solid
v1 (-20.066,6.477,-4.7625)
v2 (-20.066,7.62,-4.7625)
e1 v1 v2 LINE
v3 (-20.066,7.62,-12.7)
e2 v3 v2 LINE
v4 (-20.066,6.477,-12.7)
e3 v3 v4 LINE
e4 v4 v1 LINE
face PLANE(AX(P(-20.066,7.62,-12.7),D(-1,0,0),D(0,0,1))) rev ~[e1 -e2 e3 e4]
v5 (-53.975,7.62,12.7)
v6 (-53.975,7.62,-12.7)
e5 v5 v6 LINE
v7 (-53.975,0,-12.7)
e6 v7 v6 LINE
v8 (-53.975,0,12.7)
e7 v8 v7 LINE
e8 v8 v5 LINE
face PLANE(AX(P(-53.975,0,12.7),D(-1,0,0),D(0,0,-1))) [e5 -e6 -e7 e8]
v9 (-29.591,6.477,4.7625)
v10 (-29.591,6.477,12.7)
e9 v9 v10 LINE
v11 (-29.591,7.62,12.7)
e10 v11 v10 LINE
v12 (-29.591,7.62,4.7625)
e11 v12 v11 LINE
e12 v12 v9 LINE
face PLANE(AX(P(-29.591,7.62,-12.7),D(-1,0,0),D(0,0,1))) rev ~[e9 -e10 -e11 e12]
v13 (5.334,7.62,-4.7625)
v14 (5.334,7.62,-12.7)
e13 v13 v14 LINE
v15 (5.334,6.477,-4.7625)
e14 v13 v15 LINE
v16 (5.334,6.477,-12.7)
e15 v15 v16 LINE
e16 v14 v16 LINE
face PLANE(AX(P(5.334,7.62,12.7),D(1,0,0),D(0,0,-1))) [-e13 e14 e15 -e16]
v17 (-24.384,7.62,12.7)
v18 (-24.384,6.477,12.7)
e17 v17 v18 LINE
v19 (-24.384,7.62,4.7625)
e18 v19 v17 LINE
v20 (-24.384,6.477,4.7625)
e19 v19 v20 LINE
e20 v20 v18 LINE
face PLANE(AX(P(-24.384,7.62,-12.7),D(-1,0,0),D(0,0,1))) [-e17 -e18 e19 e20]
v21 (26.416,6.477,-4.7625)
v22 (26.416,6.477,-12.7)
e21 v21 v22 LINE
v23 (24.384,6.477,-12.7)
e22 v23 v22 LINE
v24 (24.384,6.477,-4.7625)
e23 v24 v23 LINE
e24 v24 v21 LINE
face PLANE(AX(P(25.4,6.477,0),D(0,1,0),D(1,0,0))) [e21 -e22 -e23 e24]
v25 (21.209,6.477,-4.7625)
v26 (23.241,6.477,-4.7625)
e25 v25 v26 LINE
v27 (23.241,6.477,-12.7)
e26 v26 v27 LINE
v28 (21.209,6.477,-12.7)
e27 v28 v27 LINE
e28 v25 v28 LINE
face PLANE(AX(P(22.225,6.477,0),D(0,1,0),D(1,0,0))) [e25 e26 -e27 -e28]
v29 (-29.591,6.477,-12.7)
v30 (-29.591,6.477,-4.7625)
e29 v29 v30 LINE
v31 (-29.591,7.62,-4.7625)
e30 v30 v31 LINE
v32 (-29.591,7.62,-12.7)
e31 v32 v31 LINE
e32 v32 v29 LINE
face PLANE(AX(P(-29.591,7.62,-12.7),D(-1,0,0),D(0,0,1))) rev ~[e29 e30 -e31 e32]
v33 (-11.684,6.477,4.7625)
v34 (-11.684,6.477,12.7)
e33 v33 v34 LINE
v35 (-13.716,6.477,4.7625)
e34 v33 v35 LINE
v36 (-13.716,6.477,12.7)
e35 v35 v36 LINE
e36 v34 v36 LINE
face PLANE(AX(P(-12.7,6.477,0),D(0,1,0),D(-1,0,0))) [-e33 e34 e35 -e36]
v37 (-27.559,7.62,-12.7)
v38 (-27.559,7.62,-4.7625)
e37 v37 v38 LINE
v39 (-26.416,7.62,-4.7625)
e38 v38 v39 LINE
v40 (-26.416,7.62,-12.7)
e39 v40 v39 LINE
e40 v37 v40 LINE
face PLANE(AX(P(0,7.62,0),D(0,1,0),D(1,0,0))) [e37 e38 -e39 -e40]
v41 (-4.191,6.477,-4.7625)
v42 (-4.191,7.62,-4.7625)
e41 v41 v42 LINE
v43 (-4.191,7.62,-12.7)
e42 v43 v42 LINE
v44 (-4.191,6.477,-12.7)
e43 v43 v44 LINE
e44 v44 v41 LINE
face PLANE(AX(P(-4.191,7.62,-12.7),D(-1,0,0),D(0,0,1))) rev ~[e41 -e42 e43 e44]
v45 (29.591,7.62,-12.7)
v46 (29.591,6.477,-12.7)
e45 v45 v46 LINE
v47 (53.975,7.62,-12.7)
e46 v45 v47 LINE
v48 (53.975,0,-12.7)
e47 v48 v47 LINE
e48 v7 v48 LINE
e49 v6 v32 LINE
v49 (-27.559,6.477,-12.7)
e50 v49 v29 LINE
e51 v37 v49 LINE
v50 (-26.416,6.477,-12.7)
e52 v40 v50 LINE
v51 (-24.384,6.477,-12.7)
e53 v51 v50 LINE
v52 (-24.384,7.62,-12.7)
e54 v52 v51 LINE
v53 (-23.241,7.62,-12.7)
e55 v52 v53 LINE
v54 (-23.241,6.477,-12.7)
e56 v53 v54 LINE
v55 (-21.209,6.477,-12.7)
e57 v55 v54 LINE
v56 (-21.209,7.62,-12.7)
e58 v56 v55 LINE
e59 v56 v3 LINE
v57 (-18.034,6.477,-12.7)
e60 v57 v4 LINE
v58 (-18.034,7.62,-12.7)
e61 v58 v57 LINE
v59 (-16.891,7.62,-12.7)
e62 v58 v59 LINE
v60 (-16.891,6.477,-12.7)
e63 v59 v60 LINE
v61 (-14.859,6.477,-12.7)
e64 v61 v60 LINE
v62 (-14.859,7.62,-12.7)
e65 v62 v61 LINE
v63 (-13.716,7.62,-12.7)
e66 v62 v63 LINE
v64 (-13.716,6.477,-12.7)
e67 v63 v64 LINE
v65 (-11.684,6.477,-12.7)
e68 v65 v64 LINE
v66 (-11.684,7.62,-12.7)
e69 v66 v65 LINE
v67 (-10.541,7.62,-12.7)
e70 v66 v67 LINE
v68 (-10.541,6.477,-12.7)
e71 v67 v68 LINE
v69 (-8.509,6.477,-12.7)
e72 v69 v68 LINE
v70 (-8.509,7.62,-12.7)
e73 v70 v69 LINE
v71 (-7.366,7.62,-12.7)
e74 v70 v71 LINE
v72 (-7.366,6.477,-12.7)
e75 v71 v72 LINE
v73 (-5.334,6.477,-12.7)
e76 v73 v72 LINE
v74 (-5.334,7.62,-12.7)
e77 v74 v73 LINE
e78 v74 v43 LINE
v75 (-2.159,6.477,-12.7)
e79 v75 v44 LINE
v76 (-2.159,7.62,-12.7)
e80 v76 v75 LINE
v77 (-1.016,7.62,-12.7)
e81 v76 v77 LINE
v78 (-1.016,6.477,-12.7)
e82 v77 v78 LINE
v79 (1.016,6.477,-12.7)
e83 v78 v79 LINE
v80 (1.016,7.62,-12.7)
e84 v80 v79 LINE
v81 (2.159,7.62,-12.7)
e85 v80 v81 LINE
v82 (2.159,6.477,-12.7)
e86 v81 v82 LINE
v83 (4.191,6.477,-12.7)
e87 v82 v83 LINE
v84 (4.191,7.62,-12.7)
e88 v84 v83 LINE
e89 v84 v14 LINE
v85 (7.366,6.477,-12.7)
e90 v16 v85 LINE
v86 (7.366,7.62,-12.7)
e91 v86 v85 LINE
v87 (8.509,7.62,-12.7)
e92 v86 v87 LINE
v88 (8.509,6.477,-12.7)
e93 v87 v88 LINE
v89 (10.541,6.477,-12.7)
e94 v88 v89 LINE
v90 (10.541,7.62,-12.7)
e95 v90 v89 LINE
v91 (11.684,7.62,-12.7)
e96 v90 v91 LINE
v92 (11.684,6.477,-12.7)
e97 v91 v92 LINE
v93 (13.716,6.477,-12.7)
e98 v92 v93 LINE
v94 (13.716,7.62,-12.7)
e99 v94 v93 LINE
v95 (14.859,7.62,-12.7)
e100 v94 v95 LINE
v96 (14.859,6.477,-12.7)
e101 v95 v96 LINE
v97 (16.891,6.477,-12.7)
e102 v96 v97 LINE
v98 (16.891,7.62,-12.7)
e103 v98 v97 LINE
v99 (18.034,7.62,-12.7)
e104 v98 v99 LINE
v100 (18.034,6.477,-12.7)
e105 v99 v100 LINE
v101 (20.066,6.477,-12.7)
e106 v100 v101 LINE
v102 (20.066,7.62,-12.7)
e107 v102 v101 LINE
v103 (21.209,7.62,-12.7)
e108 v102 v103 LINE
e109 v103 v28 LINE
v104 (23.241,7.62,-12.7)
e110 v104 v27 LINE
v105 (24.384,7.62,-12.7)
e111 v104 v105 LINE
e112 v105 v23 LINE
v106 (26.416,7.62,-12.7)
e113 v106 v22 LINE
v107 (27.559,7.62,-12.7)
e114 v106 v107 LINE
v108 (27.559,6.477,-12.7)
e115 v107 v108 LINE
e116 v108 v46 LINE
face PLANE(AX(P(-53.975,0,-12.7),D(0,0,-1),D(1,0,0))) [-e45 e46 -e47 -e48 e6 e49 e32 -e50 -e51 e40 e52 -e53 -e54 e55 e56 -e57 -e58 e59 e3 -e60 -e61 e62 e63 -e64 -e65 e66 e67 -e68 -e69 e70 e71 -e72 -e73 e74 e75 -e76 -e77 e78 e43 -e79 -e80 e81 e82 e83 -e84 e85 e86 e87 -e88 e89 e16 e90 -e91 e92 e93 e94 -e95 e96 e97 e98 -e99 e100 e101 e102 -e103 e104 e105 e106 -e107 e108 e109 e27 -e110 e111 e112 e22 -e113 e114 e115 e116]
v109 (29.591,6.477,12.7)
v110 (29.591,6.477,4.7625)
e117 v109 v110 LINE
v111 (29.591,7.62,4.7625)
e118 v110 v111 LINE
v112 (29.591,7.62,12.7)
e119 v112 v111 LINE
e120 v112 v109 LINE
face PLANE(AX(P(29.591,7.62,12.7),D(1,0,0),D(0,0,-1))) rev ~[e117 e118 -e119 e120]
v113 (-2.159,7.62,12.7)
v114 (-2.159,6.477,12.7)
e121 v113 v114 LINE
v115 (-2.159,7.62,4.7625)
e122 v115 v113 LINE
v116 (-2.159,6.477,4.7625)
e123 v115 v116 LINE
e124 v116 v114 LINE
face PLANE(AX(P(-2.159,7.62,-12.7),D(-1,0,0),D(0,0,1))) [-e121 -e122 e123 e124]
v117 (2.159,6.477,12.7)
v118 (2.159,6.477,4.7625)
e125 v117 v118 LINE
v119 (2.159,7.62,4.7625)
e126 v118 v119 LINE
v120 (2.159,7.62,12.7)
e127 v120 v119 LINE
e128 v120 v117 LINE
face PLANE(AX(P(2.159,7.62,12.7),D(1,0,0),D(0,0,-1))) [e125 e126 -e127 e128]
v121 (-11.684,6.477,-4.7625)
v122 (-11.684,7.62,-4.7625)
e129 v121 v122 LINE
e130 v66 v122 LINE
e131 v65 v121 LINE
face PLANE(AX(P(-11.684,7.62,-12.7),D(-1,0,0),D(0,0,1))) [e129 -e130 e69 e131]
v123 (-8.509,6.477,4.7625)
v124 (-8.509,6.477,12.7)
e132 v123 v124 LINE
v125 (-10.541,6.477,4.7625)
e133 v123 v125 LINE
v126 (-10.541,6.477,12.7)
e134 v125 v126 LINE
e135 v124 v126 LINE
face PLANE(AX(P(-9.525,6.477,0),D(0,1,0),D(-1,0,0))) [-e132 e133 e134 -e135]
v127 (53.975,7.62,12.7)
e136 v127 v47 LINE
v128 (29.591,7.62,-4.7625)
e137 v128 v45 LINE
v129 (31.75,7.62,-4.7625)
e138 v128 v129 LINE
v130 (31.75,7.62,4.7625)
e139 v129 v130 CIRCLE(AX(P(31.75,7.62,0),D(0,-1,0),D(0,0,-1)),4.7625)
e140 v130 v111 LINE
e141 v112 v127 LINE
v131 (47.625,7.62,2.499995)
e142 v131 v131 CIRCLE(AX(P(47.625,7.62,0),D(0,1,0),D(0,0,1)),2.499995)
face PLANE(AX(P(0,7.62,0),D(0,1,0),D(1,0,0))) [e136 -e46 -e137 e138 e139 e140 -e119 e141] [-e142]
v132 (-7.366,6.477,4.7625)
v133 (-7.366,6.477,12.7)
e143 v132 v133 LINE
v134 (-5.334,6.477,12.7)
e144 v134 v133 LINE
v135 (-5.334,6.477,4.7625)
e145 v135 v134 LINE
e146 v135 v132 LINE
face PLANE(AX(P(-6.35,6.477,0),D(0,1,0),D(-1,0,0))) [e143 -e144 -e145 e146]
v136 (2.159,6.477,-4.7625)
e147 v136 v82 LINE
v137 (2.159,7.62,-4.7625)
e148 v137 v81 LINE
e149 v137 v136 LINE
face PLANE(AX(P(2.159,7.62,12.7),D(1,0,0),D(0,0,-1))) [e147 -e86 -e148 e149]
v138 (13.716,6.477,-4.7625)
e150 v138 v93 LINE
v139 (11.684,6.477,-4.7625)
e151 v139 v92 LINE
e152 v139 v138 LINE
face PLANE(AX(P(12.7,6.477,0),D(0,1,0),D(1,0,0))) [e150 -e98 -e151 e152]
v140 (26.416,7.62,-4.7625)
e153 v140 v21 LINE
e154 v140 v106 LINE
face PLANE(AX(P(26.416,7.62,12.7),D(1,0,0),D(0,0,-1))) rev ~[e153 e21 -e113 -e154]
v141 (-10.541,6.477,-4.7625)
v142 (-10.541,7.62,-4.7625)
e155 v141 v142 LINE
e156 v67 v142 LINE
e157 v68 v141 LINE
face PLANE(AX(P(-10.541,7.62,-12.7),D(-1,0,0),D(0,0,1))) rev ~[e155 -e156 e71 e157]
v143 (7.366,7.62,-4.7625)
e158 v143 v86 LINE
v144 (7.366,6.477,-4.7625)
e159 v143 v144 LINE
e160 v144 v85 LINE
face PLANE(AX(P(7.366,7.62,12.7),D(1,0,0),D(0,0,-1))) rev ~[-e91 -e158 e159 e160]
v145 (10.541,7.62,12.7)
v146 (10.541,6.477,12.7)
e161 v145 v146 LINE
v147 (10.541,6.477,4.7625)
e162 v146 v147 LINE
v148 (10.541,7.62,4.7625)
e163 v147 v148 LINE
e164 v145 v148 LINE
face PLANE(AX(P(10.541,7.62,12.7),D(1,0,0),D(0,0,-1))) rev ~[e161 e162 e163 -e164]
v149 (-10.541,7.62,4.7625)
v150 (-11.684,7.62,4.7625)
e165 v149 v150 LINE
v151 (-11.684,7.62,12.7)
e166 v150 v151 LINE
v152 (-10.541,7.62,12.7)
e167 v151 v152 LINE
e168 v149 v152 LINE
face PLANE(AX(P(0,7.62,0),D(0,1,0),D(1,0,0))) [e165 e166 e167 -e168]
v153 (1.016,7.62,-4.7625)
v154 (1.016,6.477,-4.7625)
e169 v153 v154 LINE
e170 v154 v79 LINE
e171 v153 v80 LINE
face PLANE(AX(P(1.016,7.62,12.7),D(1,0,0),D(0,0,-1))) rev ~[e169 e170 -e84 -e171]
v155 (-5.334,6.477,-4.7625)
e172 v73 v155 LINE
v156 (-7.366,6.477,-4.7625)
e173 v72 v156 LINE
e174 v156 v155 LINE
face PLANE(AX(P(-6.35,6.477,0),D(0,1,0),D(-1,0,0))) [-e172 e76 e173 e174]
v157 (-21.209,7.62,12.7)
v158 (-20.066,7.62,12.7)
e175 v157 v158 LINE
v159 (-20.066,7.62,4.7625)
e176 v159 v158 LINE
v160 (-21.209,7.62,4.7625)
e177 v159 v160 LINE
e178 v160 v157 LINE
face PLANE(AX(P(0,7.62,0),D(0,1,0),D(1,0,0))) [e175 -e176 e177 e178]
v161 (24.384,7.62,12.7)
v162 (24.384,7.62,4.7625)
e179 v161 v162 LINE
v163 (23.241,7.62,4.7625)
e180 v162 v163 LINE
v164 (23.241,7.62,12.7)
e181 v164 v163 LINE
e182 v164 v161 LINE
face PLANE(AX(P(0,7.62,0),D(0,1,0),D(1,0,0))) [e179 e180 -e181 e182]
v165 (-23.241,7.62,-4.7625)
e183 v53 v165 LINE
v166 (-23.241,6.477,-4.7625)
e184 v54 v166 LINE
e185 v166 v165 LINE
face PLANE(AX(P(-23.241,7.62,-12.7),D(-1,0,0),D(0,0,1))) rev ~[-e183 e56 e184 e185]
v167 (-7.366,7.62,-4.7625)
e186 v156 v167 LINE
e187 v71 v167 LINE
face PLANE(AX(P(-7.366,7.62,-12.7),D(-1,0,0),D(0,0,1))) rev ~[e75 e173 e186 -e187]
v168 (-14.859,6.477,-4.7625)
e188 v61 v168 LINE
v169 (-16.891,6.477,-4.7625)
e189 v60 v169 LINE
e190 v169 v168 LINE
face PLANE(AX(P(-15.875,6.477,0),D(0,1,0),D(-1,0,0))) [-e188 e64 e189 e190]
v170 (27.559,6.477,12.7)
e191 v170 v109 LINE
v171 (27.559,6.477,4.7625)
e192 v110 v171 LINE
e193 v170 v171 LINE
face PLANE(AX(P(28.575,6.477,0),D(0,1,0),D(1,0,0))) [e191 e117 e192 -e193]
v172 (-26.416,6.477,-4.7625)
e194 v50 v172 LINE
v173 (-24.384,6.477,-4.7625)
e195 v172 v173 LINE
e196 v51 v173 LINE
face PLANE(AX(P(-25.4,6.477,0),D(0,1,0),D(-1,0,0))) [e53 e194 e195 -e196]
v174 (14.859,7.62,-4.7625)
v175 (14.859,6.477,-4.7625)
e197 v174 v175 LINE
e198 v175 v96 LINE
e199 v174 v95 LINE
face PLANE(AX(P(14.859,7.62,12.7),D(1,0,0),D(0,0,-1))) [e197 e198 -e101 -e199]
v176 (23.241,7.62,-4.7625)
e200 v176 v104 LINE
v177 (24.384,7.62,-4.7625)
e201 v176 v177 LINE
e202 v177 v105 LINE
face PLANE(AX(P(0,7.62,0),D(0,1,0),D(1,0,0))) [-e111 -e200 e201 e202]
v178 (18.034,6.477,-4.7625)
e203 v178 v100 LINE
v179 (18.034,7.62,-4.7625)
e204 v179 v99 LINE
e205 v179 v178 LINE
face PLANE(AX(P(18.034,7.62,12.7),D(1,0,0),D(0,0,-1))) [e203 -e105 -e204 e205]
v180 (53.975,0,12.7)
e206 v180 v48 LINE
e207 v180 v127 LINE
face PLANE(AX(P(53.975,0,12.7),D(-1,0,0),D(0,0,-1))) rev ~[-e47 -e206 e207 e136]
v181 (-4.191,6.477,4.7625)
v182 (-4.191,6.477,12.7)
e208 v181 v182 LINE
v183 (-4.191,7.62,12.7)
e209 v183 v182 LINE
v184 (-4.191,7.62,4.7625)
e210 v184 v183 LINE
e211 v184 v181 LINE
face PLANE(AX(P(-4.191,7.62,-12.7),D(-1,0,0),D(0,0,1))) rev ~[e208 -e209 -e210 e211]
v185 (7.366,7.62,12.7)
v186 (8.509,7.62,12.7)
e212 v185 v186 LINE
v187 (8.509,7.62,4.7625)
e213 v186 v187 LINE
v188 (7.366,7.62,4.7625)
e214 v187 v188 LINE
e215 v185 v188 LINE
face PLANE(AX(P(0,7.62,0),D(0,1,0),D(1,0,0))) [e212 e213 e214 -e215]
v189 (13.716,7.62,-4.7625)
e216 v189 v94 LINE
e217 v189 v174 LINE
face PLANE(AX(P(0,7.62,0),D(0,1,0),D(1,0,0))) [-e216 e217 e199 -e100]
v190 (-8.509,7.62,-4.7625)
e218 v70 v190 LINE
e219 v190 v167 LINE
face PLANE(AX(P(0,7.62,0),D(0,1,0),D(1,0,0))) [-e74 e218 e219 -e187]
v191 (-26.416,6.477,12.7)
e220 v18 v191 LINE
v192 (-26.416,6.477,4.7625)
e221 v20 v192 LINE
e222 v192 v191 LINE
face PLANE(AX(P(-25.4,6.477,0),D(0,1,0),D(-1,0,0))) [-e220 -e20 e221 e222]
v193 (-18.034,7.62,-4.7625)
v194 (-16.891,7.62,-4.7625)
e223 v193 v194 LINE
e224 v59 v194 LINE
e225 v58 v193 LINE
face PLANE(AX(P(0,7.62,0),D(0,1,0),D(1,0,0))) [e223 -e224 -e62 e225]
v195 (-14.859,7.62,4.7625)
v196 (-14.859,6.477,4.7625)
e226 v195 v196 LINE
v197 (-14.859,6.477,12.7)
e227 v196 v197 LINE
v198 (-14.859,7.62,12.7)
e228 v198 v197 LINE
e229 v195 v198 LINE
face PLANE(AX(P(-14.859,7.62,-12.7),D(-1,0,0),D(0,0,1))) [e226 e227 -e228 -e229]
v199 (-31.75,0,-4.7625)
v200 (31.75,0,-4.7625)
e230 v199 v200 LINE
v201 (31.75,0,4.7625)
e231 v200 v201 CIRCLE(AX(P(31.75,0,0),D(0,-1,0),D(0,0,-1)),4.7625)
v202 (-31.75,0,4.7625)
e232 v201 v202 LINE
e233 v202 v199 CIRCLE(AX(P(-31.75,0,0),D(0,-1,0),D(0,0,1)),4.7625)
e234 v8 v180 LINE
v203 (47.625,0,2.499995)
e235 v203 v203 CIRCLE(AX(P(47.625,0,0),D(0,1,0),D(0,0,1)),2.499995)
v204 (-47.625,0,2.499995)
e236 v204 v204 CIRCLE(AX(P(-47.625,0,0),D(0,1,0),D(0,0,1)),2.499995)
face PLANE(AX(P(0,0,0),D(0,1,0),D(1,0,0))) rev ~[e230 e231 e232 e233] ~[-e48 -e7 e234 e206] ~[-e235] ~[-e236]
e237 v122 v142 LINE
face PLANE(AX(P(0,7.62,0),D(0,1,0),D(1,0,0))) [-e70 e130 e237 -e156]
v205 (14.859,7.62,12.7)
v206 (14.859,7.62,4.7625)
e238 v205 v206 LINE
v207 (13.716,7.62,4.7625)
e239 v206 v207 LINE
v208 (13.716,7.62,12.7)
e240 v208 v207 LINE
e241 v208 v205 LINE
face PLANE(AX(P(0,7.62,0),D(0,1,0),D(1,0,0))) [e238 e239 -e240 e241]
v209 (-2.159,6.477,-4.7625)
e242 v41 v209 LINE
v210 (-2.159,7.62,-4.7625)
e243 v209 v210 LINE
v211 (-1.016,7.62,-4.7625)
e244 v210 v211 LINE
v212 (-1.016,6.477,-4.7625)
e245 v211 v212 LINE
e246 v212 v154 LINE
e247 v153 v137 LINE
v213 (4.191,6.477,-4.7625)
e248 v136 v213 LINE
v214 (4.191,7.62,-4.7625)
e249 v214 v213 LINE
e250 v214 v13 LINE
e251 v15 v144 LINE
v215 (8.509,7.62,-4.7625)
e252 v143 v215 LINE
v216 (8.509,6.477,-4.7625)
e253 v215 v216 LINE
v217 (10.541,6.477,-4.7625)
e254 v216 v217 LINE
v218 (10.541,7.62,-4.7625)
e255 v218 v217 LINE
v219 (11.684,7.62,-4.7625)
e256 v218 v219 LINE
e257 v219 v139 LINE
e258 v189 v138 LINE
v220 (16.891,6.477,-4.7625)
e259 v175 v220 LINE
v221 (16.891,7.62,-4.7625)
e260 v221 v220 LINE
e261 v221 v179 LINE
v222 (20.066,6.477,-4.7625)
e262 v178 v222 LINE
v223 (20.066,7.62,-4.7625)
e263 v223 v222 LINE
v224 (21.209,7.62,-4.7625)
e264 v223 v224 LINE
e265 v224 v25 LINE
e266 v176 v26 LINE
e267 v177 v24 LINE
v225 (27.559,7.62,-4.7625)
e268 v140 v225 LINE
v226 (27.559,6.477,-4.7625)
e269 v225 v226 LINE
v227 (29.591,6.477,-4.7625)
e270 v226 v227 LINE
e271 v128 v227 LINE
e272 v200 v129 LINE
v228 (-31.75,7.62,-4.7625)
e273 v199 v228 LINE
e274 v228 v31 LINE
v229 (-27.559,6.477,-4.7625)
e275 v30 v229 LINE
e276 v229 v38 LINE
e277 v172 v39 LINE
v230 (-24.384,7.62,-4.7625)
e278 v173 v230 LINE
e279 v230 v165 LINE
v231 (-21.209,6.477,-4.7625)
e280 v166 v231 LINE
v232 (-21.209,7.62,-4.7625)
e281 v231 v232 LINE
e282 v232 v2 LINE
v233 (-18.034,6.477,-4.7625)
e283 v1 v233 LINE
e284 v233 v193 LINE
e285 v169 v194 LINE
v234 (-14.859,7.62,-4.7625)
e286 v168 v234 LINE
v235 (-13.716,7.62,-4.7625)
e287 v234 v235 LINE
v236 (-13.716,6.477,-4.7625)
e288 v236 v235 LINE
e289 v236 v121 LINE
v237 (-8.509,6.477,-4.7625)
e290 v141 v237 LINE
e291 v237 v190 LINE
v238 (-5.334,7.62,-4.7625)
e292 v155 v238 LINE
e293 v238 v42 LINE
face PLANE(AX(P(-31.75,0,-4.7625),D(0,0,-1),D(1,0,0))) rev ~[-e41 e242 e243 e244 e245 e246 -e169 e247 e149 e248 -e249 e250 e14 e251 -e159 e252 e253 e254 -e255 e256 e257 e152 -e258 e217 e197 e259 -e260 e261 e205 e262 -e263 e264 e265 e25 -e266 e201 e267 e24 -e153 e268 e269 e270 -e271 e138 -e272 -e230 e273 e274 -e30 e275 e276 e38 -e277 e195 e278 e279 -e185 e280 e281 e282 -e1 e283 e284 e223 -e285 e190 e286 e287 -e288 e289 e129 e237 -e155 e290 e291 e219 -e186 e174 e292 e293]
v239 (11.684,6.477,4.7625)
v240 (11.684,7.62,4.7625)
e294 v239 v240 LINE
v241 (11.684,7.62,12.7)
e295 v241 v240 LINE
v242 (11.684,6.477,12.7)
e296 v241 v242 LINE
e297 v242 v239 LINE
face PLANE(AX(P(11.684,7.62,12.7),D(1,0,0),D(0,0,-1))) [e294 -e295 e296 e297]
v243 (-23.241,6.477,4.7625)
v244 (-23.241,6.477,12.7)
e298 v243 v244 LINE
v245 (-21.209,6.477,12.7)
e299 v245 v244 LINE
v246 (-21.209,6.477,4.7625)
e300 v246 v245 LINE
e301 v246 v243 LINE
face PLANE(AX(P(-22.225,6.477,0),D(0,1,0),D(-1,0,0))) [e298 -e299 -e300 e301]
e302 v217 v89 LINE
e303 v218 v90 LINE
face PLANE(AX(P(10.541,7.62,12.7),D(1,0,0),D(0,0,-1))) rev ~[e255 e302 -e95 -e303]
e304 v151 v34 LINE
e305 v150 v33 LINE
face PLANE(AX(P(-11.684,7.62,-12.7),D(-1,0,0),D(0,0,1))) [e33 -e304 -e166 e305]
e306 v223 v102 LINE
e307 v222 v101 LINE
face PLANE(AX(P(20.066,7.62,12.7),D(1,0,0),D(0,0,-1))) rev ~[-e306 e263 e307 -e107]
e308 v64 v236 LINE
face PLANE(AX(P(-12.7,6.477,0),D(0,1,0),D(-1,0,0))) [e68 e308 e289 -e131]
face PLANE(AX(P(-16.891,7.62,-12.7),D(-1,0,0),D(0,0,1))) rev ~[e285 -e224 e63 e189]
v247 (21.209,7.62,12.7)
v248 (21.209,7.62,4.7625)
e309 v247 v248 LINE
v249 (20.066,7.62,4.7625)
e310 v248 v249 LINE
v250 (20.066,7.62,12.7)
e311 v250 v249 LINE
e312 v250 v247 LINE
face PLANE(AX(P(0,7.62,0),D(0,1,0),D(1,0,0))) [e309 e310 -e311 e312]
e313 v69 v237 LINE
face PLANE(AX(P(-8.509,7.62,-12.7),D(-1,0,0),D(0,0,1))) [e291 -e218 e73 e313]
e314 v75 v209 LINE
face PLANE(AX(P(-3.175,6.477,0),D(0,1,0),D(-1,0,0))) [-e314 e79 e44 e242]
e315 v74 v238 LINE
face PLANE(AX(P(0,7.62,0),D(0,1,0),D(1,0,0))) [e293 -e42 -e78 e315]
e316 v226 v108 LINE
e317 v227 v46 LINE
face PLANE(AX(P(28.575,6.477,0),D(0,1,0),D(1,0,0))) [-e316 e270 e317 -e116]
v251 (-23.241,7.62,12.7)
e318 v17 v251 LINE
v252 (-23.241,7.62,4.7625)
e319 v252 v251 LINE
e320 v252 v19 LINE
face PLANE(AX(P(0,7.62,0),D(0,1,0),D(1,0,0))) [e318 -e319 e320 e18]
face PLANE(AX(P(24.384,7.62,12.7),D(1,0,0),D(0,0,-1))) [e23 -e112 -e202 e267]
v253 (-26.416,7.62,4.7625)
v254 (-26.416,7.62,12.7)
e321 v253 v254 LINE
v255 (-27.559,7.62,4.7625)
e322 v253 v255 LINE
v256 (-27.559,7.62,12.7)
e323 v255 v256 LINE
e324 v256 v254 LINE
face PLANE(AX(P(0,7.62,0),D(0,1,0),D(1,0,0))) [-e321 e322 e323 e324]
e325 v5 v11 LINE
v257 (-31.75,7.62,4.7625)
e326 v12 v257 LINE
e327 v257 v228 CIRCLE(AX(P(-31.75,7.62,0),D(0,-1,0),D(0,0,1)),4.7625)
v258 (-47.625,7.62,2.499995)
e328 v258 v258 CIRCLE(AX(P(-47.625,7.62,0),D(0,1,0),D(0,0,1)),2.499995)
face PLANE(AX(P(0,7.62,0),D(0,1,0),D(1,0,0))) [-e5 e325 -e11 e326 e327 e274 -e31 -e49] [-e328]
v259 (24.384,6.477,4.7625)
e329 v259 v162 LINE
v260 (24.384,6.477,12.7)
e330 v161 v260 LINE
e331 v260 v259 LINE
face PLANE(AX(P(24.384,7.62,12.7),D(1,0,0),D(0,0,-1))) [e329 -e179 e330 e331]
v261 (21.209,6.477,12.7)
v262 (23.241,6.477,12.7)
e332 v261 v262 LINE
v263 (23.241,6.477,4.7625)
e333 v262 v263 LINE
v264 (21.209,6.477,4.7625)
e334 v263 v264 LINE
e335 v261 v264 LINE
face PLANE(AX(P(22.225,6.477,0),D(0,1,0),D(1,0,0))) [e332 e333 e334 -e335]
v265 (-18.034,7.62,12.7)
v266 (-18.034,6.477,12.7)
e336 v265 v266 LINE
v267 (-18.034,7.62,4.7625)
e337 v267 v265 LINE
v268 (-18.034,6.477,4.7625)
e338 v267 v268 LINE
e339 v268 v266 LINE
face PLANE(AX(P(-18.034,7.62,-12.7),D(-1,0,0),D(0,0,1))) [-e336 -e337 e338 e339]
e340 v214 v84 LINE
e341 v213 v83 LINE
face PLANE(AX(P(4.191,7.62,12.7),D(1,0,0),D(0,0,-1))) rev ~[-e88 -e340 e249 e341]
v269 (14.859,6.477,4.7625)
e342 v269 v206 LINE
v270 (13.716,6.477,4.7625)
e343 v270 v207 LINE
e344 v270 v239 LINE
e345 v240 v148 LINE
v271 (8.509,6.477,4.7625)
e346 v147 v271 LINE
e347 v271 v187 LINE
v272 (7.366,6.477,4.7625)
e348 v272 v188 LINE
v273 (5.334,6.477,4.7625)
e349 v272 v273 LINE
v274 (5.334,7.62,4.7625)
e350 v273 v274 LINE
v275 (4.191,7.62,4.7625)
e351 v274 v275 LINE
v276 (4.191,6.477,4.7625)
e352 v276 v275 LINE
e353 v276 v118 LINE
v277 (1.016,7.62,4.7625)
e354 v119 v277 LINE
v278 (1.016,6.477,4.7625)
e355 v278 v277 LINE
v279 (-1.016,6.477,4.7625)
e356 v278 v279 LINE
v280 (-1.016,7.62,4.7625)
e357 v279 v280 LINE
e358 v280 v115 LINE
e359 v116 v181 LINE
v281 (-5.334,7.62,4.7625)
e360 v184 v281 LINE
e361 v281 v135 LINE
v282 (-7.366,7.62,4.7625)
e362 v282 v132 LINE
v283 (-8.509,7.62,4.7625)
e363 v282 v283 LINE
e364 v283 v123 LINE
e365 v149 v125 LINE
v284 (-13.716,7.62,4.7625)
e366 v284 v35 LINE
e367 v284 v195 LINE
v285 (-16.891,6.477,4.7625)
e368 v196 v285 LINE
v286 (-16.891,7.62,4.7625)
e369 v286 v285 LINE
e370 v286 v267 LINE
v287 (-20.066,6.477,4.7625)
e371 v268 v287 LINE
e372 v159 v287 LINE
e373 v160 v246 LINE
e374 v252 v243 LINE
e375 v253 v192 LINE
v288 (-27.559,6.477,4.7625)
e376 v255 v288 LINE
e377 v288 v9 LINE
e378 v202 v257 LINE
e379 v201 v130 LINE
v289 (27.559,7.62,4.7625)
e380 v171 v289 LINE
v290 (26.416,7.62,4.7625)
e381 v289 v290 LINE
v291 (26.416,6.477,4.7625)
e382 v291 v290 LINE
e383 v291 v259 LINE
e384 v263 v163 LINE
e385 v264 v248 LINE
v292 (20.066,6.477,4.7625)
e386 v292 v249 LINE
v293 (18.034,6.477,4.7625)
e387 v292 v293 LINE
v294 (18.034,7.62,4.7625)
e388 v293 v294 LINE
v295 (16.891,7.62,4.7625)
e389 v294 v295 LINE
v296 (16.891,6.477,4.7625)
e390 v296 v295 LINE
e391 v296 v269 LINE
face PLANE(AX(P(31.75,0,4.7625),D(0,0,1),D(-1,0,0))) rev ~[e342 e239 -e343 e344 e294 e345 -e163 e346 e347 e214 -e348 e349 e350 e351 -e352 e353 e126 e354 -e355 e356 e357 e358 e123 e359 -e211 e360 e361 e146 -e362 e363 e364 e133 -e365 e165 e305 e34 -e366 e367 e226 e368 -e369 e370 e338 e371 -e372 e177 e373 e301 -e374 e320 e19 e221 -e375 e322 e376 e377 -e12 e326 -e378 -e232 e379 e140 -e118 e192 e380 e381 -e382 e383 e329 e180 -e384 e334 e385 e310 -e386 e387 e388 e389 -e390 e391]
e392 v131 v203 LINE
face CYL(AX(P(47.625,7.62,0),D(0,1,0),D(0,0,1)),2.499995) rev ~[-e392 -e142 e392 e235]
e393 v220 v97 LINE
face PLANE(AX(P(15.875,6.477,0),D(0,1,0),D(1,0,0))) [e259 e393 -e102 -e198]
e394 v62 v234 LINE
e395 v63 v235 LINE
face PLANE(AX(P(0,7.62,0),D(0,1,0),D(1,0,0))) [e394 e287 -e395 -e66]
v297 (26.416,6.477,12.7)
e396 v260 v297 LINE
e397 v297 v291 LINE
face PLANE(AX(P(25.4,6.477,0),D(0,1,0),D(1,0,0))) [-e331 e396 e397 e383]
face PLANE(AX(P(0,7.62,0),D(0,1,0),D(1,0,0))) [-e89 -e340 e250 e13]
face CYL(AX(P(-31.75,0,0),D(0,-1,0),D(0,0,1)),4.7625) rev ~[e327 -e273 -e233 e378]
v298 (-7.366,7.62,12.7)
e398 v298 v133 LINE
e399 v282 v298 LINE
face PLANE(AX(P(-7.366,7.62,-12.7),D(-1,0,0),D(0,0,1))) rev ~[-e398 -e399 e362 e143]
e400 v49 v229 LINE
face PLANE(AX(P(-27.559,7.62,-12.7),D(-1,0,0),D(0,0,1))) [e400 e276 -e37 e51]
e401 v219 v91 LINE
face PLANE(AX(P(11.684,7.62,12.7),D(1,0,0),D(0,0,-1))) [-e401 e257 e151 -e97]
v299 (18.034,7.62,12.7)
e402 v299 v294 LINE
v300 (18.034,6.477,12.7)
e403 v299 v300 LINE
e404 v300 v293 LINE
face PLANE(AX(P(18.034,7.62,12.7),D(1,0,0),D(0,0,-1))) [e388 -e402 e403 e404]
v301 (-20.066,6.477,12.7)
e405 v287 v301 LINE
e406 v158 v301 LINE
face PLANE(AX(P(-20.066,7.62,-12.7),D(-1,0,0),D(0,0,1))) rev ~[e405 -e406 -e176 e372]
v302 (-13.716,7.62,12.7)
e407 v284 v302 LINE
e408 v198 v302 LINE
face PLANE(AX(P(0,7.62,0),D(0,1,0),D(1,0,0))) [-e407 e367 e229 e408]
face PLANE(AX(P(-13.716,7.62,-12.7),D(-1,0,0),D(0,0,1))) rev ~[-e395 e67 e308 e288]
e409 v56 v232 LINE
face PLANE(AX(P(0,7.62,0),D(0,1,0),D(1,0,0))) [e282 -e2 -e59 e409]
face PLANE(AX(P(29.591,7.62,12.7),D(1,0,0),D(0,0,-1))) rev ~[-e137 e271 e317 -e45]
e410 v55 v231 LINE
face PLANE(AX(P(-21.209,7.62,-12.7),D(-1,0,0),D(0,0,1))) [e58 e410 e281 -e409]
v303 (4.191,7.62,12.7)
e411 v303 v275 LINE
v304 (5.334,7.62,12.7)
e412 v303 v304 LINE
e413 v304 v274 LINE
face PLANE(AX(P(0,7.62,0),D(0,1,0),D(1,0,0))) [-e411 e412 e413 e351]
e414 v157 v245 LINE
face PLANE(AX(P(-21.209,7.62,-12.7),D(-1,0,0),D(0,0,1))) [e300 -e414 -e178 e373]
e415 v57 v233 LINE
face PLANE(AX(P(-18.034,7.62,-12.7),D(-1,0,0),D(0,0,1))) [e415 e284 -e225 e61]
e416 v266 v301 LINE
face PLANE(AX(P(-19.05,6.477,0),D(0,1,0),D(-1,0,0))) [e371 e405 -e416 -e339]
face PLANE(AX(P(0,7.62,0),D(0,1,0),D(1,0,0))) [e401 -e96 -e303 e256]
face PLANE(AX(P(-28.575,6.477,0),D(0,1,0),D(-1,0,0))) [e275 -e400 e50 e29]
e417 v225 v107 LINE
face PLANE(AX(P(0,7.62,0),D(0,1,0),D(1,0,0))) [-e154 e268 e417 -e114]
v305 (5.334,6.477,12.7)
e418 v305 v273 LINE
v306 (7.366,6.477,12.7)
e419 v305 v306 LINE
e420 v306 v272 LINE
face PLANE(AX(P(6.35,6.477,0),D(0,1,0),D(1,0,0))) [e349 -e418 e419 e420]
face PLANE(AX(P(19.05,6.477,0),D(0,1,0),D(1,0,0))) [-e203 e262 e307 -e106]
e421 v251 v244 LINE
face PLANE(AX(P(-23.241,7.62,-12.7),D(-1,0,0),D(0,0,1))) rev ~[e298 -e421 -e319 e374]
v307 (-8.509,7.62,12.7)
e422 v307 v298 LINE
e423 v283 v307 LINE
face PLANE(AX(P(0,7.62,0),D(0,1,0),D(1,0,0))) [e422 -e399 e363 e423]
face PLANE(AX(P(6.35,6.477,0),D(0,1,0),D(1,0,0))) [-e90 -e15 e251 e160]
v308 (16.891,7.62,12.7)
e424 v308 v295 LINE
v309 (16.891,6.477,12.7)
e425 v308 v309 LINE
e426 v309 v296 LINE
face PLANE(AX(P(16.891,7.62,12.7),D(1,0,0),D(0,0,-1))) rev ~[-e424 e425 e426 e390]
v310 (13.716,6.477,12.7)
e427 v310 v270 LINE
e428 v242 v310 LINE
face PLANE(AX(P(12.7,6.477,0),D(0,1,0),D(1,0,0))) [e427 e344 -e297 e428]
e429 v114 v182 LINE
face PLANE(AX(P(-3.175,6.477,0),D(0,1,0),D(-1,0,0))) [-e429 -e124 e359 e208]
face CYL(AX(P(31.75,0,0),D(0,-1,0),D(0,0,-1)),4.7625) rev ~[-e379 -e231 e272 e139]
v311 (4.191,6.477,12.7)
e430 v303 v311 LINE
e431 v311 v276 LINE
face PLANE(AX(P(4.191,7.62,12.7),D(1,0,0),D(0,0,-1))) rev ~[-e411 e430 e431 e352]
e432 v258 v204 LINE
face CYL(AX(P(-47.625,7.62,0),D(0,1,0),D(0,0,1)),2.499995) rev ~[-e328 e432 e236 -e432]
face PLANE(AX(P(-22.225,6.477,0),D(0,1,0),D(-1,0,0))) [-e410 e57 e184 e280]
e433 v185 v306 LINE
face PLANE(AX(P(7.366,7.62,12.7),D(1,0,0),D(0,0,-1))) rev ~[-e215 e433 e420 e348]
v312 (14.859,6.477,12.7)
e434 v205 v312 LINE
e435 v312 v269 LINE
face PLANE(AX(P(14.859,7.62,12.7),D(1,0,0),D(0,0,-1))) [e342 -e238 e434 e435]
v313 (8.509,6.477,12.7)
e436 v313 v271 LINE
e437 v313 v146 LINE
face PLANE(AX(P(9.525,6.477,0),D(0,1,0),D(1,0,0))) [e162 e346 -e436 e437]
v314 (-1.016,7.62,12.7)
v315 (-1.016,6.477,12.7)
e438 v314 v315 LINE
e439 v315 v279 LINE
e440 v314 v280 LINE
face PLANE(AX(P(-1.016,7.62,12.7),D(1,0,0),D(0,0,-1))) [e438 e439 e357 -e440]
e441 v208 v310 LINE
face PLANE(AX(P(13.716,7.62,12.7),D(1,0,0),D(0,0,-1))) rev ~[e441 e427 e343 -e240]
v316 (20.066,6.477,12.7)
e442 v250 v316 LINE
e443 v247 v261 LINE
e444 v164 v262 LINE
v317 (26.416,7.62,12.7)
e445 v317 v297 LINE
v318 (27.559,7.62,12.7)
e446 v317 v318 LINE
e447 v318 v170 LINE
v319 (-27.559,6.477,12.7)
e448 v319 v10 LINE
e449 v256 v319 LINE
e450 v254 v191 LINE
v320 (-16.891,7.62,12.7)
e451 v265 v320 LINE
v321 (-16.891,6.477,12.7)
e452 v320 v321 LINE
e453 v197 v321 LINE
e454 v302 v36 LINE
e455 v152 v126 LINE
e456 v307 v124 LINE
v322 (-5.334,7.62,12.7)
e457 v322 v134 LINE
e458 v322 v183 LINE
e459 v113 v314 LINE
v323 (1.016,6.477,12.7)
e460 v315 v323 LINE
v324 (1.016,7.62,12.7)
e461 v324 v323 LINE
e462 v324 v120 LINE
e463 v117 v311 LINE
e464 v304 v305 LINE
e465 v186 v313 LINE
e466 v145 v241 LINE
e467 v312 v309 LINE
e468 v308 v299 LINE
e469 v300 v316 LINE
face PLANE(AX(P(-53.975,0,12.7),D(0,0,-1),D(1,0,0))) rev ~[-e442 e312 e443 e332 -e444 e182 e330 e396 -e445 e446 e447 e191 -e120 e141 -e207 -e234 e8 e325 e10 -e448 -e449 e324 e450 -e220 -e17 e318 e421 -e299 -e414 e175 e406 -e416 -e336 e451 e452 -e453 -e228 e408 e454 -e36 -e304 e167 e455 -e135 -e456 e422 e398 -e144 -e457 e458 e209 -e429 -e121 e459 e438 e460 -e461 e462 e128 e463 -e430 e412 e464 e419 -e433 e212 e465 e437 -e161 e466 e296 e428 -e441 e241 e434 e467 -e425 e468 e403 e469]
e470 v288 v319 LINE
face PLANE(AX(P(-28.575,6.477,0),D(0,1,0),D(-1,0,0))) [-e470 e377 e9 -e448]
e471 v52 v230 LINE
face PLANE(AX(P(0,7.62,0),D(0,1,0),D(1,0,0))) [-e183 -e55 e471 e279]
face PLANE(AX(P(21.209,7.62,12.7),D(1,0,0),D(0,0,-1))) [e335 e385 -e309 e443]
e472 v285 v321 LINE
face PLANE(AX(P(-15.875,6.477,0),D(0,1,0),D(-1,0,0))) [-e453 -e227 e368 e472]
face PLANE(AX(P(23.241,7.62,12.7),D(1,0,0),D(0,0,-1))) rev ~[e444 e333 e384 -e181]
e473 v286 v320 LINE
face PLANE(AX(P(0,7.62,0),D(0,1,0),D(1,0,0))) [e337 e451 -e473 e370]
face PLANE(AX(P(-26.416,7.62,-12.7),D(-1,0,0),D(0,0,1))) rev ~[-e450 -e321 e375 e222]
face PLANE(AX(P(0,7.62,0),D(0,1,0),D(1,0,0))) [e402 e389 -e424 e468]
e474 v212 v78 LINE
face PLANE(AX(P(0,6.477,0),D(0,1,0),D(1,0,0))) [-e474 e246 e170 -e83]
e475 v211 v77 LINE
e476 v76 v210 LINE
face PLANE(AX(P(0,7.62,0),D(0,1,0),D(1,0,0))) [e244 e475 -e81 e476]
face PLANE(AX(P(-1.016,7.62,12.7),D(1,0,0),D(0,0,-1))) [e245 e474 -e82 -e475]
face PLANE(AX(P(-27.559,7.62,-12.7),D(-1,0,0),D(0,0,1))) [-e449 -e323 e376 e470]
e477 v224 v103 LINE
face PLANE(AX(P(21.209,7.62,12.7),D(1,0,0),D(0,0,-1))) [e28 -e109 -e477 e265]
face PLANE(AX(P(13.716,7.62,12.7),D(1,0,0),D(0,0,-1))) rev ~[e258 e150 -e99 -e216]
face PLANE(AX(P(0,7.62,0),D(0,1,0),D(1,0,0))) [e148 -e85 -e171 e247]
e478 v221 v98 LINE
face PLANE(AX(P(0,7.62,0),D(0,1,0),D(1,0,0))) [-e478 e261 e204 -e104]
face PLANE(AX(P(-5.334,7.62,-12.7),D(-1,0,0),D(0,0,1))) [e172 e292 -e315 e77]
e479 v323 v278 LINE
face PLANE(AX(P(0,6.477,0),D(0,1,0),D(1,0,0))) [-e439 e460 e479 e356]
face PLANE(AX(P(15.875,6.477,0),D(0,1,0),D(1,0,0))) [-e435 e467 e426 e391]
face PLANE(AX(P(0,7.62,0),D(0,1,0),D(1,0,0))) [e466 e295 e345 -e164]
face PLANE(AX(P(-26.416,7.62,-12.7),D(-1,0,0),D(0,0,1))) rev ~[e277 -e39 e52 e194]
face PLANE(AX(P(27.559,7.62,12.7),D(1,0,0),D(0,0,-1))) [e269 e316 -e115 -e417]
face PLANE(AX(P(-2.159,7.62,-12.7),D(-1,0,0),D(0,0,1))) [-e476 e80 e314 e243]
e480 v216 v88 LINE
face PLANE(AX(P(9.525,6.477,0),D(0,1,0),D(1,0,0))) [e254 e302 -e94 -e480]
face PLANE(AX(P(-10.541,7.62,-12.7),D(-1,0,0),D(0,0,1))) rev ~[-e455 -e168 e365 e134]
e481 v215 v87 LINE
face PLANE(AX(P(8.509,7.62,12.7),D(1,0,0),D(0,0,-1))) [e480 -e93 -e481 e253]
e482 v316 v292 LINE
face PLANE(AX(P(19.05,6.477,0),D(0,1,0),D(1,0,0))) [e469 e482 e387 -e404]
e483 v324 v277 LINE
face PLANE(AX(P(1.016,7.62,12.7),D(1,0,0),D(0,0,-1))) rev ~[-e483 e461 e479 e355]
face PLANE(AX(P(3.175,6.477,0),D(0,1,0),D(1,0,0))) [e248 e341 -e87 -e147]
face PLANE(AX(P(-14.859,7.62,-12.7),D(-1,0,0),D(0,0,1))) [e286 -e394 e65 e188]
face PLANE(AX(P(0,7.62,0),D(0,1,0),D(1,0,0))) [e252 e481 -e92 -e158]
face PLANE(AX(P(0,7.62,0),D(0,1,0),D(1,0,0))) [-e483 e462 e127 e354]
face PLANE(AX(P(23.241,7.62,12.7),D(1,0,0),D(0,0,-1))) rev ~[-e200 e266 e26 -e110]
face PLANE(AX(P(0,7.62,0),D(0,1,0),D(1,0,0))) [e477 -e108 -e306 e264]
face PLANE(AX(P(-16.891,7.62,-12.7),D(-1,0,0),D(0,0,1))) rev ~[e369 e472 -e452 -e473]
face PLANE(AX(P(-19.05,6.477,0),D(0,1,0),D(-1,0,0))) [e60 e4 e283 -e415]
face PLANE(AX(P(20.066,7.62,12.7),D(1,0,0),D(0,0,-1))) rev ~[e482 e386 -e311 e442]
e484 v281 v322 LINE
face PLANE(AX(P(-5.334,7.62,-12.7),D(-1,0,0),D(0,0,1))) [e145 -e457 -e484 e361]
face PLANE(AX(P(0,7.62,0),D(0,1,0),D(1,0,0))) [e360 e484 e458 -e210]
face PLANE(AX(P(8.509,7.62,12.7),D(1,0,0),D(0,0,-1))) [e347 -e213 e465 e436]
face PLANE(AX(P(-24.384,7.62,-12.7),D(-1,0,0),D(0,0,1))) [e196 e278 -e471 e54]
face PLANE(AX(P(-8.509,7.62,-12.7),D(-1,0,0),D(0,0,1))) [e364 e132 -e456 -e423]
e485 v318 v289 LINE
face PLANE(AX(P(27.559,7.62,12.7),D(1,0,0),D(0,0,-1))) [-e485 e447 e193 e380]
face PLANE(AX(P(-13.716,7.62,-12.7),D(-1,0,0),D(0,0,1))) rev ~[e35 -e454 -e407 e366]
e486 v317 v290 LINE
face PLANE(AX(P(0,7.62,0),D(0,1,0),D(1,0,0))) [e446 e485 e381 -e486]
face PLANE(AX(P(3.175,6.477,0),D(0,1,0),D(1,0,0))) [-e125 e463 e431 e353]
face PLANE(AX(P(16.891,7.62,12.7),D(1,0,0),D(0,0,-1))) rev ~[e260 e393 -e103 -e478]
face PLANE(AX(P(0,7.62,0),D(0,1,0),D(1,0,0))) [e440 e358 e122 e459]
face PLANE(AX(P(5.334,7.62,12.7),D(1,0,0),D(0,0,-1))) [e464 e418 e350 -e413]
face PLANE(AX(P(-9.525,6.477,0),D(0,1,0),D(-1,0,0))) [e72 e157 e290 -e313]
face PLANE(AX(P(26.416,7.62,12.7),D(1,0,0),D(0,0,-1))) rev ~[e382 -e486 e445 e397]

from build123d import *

# Parameters (mm, degrees)
SKETCH1_W                = 107.95
SKETCH1_H                = 25.4
BOSS_EXTRUDE1_DEPTH      = 7.62
SKETCH2_W                = 2.032
SKETCH2_H                = 25.4
CUT_EXTRUDE1_DEPTH       = 1.143
LPATTERN1_COUNT          = 10
LPATTERN1_PITCH          = 3.175
MIRROR1_COPY_1_SKETCH_W  = 2.032
MIRROR1_COPY_1_SKETCH_H  = 25.4
MIRROR1_COPY_1_DEPTH     = 1.143
MIRROR1_COPY_2_SKETCH_W  = 2.032
MIRROR1_COPY_2_SKETCH_H  = 25.4
MIRROR1_COPY_2_DEPTH     = 1.143
MIRROR1_COPY_3_SKETCH_W  = 2.032
MIRROR1_COPY_3_SKETCH_H  = 25.4
MIRROR1_COPY_3_DEPTH     = 1.143
MIRROR1_COPY_4_SKETCH_W  = 2.032
MIRROR1_COPY_4_SKETCH_H  = 25.4
MIRROR1_COPY_4_DEPTH     = 1.143
MIRROR1_COPY_5_SKETCH_W  = 2.032
MIRROR1_COPY_5_SKETCH_H  = 25.4
MIRROR1_COPY_5_DEPTH     = 1.143
MIRROR1_COPY_6_SKETCH_W  = 2.032
MIRROR1_COPY_6_SKETCH_H  = 25.4
MIRROR1_COPY_6_DEPTH     = 1.143
MIRROR1_COPY_7_SKETCH_W  = 2.032
MIRROR1_COPY_7_SKETCH_H  = 25.4
MIRROR1_COPY_7_DEPTH     = 1.143
MIRROR1_COPY_8_SKETCH_W  = 2.032
MIRROR1_COPY_8_SKETCH_H  = 25.4
MIRROR1_COPY_8_DEPTH     = 1.143
MIRROR1_COPY_9_SKETCH_W  = 2.032
MIRROR1_COPY_9_SKETCH_H  = 25.4
MIRROR1_COPY_9_DEPTH     = 1.143
MIRROR1_COPY_10_SKETCH_W = 2.032
MIRROR1_COPY_10_SKETCH_H = 25.4
MIRROR1_COPY_10_DEPTH    = 1.143
SKETCH3_R                = 2.499995
CUT_EXTRUDE2_DEPTH       = 56.970126184


with BuildPart() as part:
    # Sketch1 → Boss-Extrude1 (new body)
    with BuildSketch(Plane(origin=(0, 0, 0), x_dir=(1, 0, 0), z_dir=(0, 1, 0))):
        Rectangle(SKETCH1_W, SKETCH1_H)
        with BuildLine():
            Line((-31.75, 4.7625), (31.75, 4.7625))
            ThreePointArc((31.75, 4.7625), (36.5125, 0), (31.75, -4.7625))
            Line((31.75, -4.7625), (-31.75, -4.7625))
            ThreePointArc((-31.75, -4.7625), (-36.5125, 0), (-31.75, 4.7625))
        make_face(mode=Mode.SUBTRACT)
    extrude(amount=BOSS_EXTRUDE1_DEPTH)

    # Sketch2 → Cut-Extrude1 (cut)
    with BuildSketch(Plane(origin=(0, 7.62, 0), x_dir=(1, 0, 0), z_dir=(0, 1, 0))):
        Rectangle(SKETCH2_W, SKETCH2_H)
    cut_extrude1 = extrude(amount=-CUT_EXTRUDE1_DEPTH, mode=Mode.SUBTRACT)

    # LPattern1: Cut-Extrude1 ×10
    with Locations(*[(i * LPATTERN1_PITCH, 0, 0) for i in range(1, LPATTERN1_COUNT)]):
        add(cut_extrude1, mode=Mode.SUBTRACT)

    # Mirror1 copy 1 sketch → Mirror1 copy 1 (cut)
    with BuildSketch(Plane(origin=(-3.175, 7.62, 0), x_dir=(-1, 0, 0), z_dir=(0, 1, 0))):
        Rectangle(MIRROR1_COPY_1_SKETCH_W, MIRROR1_COPY_1_SKETCH_H)
    extrude(amount=-MIRROR1_COPY_1_DEPTH, mode=Mode.SUBTRACT)

    # Mirror1 copy 2 sketch → Mirror1 copy 2 (cut)
    with BuildSketch(Plane(origin=(-6.35, 7.62, 0), x_dir=(-1, 0, 0), z_dir=(0, 1, 0))):
        Rectangle(MIRROR1_COPY_2_SKETCH_W, MIRROR1_COPY_2_SKETCH_H)
    extrude(amount=-MIRROR1_COPY_2_DEPTH, mode=Mode.SUBTRACT)

    # Mirror1 copy 3 sketch → Mirror1 copy 3 (cut)
    with BuildSketch(Plane(origin=(-9.525, 7.62, 0), x_dir=(-1, 0, 0), z_dir=(0, 1, 0))):
        Rectangle(MIRROR1_COPY_3_SKETCH_W, MIRROR1_COPY_3_SKETCH_H)
    extrude(amount=-MIRROR1_COPY_3_DEPTH, mode=Mode.SUBTRACT)

    # Mirror1 copy 4 sketch → Mirror1 copy 4 (cut)
    with BuildSketch(Plane(origin=(-12.7, 7.62, 0), x_dir=(-1, 0, 0), z_dir=(0, 1, 0))):
        Rectangle(MIRROR1_COPY_4_SKETCH_W, MIRROR1_COPY_4_SKETCH_H)
    extrude(amount=-MIRROR1_COPY_4_DEPTH, mode=Mode.SUBTRACT)

    # Mirror1 copy 5 sketch → Mirror1 copy 5 (cut)
    with BuildSketch(Plane(origin=(-15.875, 7.62, 0), x_dir=(-1, 0, 0), z_dir=(0, 1, 0))):
        Rectangle(MIRROR1_COPY_5_SKETCH_W, MIRROR1_COPY_5_SKETCH_H)
    extrude(amount=-MIRROR1_COPY_5_DEPTH, mode=Mode.SUBTRACT)

    # Mirror1 copy 6 sketch → Mirror1 copy 6 (cut)
    with BuildSketch(Plane(origin=(-19.05, 7.62, 0), x_dir=(-1, 0, 0), z_dir=(0, 1, 0))):
        Rectangle(MIRROR1_COPY_6_SKETCH_W, MIRROR1_COPY_6_SKETCH_H)
    extrude(amount=-MIRROR1_COPY_6_DEPTH, mode=Mode.SUBTRACT)

    # Mirror1 copy 7 sketch → Mirror1 copy 7 (cut)
    with BuildSketch(Plane(origin=(-22.225, 7.62, 0), x_dir=(-1, 0, 0), z_dir=(0, 1, 0))):
        Rectangle(MIRROR1_COPY_7_SKETCH_W, MIRROR1_COPY_7_SKETCH_H)
    extrude(amount=-MIRROR1_COPY_7_DEPTH, mode=Mode.SUBTRACT)

    # Mirror1 copy 8 sketch → Mirror1 copy 8 (cut)
    with BuildSketch(Plane(origin=(-25.4, 7.62, 0), x_dir=(-1, 0, 0), z_dir=(0, 1, 0))):
        Rectangle(MIRROR1_COPY_8_SKETCH_W, MIRROR1_COPY_8_SKETCH_H)
    extrude(amount=-MIRROR1_COPY_8_DEPTH, mode=Mode.SUBTRACT)

    # Mirror1 copy 9 sketch → Mirror1 copy 9 (cut)
    with BuildSketch(Plane(origin=(-28.575, 7.62, 0), x_dir=(-1, 0, 0), z_dir=(0, 1, 0))):
        Rectangle(MIRROR1_COPY_9_SKETCH_W, MIRROR1_COPY_9_SKETCH_H)
    extrude(amount=-MIRROR1_COPY_9_DEPTH, mode=Mode.SUBTRACT)

    # Mirror1 copy 10 sketch → Mirror1 copy 10 (cut)
    with BuildSketch(Plane(origin=(0, 7.62, 0), x_dir=(-1, 0, 0), z_dir=(0, 1, 0))):
        Rectangle(MIRROR1_COPY_10_SKETCH_W, MIRROR1_COPY_10_SKETCH_H)
    extrude(amount=-MIRROR1_COPY_10_DEPTH, mode=Mode.SUBTRACT)

    # Sketch3 → Cut-Extrude2 (cut, through all)
    with BuildSketch(Plane(origin=(0, 7.62, 0), x_dir=(1, 0, 0), z_dir=(0, 1, 0))):
        with Locations(Location((-47.625, 0, 0), (0, 0, 270))):
            Circle(SKETCH3_R)
        with Locations(Location((47.625, 0, 0), (0, 0, 270))):
            Circle(SKETCH3_R)
    extrude(amount=-CUT_EXTRUDE2_DEPTH, mode=Mode.SUBTRACT)


solid = part.part
